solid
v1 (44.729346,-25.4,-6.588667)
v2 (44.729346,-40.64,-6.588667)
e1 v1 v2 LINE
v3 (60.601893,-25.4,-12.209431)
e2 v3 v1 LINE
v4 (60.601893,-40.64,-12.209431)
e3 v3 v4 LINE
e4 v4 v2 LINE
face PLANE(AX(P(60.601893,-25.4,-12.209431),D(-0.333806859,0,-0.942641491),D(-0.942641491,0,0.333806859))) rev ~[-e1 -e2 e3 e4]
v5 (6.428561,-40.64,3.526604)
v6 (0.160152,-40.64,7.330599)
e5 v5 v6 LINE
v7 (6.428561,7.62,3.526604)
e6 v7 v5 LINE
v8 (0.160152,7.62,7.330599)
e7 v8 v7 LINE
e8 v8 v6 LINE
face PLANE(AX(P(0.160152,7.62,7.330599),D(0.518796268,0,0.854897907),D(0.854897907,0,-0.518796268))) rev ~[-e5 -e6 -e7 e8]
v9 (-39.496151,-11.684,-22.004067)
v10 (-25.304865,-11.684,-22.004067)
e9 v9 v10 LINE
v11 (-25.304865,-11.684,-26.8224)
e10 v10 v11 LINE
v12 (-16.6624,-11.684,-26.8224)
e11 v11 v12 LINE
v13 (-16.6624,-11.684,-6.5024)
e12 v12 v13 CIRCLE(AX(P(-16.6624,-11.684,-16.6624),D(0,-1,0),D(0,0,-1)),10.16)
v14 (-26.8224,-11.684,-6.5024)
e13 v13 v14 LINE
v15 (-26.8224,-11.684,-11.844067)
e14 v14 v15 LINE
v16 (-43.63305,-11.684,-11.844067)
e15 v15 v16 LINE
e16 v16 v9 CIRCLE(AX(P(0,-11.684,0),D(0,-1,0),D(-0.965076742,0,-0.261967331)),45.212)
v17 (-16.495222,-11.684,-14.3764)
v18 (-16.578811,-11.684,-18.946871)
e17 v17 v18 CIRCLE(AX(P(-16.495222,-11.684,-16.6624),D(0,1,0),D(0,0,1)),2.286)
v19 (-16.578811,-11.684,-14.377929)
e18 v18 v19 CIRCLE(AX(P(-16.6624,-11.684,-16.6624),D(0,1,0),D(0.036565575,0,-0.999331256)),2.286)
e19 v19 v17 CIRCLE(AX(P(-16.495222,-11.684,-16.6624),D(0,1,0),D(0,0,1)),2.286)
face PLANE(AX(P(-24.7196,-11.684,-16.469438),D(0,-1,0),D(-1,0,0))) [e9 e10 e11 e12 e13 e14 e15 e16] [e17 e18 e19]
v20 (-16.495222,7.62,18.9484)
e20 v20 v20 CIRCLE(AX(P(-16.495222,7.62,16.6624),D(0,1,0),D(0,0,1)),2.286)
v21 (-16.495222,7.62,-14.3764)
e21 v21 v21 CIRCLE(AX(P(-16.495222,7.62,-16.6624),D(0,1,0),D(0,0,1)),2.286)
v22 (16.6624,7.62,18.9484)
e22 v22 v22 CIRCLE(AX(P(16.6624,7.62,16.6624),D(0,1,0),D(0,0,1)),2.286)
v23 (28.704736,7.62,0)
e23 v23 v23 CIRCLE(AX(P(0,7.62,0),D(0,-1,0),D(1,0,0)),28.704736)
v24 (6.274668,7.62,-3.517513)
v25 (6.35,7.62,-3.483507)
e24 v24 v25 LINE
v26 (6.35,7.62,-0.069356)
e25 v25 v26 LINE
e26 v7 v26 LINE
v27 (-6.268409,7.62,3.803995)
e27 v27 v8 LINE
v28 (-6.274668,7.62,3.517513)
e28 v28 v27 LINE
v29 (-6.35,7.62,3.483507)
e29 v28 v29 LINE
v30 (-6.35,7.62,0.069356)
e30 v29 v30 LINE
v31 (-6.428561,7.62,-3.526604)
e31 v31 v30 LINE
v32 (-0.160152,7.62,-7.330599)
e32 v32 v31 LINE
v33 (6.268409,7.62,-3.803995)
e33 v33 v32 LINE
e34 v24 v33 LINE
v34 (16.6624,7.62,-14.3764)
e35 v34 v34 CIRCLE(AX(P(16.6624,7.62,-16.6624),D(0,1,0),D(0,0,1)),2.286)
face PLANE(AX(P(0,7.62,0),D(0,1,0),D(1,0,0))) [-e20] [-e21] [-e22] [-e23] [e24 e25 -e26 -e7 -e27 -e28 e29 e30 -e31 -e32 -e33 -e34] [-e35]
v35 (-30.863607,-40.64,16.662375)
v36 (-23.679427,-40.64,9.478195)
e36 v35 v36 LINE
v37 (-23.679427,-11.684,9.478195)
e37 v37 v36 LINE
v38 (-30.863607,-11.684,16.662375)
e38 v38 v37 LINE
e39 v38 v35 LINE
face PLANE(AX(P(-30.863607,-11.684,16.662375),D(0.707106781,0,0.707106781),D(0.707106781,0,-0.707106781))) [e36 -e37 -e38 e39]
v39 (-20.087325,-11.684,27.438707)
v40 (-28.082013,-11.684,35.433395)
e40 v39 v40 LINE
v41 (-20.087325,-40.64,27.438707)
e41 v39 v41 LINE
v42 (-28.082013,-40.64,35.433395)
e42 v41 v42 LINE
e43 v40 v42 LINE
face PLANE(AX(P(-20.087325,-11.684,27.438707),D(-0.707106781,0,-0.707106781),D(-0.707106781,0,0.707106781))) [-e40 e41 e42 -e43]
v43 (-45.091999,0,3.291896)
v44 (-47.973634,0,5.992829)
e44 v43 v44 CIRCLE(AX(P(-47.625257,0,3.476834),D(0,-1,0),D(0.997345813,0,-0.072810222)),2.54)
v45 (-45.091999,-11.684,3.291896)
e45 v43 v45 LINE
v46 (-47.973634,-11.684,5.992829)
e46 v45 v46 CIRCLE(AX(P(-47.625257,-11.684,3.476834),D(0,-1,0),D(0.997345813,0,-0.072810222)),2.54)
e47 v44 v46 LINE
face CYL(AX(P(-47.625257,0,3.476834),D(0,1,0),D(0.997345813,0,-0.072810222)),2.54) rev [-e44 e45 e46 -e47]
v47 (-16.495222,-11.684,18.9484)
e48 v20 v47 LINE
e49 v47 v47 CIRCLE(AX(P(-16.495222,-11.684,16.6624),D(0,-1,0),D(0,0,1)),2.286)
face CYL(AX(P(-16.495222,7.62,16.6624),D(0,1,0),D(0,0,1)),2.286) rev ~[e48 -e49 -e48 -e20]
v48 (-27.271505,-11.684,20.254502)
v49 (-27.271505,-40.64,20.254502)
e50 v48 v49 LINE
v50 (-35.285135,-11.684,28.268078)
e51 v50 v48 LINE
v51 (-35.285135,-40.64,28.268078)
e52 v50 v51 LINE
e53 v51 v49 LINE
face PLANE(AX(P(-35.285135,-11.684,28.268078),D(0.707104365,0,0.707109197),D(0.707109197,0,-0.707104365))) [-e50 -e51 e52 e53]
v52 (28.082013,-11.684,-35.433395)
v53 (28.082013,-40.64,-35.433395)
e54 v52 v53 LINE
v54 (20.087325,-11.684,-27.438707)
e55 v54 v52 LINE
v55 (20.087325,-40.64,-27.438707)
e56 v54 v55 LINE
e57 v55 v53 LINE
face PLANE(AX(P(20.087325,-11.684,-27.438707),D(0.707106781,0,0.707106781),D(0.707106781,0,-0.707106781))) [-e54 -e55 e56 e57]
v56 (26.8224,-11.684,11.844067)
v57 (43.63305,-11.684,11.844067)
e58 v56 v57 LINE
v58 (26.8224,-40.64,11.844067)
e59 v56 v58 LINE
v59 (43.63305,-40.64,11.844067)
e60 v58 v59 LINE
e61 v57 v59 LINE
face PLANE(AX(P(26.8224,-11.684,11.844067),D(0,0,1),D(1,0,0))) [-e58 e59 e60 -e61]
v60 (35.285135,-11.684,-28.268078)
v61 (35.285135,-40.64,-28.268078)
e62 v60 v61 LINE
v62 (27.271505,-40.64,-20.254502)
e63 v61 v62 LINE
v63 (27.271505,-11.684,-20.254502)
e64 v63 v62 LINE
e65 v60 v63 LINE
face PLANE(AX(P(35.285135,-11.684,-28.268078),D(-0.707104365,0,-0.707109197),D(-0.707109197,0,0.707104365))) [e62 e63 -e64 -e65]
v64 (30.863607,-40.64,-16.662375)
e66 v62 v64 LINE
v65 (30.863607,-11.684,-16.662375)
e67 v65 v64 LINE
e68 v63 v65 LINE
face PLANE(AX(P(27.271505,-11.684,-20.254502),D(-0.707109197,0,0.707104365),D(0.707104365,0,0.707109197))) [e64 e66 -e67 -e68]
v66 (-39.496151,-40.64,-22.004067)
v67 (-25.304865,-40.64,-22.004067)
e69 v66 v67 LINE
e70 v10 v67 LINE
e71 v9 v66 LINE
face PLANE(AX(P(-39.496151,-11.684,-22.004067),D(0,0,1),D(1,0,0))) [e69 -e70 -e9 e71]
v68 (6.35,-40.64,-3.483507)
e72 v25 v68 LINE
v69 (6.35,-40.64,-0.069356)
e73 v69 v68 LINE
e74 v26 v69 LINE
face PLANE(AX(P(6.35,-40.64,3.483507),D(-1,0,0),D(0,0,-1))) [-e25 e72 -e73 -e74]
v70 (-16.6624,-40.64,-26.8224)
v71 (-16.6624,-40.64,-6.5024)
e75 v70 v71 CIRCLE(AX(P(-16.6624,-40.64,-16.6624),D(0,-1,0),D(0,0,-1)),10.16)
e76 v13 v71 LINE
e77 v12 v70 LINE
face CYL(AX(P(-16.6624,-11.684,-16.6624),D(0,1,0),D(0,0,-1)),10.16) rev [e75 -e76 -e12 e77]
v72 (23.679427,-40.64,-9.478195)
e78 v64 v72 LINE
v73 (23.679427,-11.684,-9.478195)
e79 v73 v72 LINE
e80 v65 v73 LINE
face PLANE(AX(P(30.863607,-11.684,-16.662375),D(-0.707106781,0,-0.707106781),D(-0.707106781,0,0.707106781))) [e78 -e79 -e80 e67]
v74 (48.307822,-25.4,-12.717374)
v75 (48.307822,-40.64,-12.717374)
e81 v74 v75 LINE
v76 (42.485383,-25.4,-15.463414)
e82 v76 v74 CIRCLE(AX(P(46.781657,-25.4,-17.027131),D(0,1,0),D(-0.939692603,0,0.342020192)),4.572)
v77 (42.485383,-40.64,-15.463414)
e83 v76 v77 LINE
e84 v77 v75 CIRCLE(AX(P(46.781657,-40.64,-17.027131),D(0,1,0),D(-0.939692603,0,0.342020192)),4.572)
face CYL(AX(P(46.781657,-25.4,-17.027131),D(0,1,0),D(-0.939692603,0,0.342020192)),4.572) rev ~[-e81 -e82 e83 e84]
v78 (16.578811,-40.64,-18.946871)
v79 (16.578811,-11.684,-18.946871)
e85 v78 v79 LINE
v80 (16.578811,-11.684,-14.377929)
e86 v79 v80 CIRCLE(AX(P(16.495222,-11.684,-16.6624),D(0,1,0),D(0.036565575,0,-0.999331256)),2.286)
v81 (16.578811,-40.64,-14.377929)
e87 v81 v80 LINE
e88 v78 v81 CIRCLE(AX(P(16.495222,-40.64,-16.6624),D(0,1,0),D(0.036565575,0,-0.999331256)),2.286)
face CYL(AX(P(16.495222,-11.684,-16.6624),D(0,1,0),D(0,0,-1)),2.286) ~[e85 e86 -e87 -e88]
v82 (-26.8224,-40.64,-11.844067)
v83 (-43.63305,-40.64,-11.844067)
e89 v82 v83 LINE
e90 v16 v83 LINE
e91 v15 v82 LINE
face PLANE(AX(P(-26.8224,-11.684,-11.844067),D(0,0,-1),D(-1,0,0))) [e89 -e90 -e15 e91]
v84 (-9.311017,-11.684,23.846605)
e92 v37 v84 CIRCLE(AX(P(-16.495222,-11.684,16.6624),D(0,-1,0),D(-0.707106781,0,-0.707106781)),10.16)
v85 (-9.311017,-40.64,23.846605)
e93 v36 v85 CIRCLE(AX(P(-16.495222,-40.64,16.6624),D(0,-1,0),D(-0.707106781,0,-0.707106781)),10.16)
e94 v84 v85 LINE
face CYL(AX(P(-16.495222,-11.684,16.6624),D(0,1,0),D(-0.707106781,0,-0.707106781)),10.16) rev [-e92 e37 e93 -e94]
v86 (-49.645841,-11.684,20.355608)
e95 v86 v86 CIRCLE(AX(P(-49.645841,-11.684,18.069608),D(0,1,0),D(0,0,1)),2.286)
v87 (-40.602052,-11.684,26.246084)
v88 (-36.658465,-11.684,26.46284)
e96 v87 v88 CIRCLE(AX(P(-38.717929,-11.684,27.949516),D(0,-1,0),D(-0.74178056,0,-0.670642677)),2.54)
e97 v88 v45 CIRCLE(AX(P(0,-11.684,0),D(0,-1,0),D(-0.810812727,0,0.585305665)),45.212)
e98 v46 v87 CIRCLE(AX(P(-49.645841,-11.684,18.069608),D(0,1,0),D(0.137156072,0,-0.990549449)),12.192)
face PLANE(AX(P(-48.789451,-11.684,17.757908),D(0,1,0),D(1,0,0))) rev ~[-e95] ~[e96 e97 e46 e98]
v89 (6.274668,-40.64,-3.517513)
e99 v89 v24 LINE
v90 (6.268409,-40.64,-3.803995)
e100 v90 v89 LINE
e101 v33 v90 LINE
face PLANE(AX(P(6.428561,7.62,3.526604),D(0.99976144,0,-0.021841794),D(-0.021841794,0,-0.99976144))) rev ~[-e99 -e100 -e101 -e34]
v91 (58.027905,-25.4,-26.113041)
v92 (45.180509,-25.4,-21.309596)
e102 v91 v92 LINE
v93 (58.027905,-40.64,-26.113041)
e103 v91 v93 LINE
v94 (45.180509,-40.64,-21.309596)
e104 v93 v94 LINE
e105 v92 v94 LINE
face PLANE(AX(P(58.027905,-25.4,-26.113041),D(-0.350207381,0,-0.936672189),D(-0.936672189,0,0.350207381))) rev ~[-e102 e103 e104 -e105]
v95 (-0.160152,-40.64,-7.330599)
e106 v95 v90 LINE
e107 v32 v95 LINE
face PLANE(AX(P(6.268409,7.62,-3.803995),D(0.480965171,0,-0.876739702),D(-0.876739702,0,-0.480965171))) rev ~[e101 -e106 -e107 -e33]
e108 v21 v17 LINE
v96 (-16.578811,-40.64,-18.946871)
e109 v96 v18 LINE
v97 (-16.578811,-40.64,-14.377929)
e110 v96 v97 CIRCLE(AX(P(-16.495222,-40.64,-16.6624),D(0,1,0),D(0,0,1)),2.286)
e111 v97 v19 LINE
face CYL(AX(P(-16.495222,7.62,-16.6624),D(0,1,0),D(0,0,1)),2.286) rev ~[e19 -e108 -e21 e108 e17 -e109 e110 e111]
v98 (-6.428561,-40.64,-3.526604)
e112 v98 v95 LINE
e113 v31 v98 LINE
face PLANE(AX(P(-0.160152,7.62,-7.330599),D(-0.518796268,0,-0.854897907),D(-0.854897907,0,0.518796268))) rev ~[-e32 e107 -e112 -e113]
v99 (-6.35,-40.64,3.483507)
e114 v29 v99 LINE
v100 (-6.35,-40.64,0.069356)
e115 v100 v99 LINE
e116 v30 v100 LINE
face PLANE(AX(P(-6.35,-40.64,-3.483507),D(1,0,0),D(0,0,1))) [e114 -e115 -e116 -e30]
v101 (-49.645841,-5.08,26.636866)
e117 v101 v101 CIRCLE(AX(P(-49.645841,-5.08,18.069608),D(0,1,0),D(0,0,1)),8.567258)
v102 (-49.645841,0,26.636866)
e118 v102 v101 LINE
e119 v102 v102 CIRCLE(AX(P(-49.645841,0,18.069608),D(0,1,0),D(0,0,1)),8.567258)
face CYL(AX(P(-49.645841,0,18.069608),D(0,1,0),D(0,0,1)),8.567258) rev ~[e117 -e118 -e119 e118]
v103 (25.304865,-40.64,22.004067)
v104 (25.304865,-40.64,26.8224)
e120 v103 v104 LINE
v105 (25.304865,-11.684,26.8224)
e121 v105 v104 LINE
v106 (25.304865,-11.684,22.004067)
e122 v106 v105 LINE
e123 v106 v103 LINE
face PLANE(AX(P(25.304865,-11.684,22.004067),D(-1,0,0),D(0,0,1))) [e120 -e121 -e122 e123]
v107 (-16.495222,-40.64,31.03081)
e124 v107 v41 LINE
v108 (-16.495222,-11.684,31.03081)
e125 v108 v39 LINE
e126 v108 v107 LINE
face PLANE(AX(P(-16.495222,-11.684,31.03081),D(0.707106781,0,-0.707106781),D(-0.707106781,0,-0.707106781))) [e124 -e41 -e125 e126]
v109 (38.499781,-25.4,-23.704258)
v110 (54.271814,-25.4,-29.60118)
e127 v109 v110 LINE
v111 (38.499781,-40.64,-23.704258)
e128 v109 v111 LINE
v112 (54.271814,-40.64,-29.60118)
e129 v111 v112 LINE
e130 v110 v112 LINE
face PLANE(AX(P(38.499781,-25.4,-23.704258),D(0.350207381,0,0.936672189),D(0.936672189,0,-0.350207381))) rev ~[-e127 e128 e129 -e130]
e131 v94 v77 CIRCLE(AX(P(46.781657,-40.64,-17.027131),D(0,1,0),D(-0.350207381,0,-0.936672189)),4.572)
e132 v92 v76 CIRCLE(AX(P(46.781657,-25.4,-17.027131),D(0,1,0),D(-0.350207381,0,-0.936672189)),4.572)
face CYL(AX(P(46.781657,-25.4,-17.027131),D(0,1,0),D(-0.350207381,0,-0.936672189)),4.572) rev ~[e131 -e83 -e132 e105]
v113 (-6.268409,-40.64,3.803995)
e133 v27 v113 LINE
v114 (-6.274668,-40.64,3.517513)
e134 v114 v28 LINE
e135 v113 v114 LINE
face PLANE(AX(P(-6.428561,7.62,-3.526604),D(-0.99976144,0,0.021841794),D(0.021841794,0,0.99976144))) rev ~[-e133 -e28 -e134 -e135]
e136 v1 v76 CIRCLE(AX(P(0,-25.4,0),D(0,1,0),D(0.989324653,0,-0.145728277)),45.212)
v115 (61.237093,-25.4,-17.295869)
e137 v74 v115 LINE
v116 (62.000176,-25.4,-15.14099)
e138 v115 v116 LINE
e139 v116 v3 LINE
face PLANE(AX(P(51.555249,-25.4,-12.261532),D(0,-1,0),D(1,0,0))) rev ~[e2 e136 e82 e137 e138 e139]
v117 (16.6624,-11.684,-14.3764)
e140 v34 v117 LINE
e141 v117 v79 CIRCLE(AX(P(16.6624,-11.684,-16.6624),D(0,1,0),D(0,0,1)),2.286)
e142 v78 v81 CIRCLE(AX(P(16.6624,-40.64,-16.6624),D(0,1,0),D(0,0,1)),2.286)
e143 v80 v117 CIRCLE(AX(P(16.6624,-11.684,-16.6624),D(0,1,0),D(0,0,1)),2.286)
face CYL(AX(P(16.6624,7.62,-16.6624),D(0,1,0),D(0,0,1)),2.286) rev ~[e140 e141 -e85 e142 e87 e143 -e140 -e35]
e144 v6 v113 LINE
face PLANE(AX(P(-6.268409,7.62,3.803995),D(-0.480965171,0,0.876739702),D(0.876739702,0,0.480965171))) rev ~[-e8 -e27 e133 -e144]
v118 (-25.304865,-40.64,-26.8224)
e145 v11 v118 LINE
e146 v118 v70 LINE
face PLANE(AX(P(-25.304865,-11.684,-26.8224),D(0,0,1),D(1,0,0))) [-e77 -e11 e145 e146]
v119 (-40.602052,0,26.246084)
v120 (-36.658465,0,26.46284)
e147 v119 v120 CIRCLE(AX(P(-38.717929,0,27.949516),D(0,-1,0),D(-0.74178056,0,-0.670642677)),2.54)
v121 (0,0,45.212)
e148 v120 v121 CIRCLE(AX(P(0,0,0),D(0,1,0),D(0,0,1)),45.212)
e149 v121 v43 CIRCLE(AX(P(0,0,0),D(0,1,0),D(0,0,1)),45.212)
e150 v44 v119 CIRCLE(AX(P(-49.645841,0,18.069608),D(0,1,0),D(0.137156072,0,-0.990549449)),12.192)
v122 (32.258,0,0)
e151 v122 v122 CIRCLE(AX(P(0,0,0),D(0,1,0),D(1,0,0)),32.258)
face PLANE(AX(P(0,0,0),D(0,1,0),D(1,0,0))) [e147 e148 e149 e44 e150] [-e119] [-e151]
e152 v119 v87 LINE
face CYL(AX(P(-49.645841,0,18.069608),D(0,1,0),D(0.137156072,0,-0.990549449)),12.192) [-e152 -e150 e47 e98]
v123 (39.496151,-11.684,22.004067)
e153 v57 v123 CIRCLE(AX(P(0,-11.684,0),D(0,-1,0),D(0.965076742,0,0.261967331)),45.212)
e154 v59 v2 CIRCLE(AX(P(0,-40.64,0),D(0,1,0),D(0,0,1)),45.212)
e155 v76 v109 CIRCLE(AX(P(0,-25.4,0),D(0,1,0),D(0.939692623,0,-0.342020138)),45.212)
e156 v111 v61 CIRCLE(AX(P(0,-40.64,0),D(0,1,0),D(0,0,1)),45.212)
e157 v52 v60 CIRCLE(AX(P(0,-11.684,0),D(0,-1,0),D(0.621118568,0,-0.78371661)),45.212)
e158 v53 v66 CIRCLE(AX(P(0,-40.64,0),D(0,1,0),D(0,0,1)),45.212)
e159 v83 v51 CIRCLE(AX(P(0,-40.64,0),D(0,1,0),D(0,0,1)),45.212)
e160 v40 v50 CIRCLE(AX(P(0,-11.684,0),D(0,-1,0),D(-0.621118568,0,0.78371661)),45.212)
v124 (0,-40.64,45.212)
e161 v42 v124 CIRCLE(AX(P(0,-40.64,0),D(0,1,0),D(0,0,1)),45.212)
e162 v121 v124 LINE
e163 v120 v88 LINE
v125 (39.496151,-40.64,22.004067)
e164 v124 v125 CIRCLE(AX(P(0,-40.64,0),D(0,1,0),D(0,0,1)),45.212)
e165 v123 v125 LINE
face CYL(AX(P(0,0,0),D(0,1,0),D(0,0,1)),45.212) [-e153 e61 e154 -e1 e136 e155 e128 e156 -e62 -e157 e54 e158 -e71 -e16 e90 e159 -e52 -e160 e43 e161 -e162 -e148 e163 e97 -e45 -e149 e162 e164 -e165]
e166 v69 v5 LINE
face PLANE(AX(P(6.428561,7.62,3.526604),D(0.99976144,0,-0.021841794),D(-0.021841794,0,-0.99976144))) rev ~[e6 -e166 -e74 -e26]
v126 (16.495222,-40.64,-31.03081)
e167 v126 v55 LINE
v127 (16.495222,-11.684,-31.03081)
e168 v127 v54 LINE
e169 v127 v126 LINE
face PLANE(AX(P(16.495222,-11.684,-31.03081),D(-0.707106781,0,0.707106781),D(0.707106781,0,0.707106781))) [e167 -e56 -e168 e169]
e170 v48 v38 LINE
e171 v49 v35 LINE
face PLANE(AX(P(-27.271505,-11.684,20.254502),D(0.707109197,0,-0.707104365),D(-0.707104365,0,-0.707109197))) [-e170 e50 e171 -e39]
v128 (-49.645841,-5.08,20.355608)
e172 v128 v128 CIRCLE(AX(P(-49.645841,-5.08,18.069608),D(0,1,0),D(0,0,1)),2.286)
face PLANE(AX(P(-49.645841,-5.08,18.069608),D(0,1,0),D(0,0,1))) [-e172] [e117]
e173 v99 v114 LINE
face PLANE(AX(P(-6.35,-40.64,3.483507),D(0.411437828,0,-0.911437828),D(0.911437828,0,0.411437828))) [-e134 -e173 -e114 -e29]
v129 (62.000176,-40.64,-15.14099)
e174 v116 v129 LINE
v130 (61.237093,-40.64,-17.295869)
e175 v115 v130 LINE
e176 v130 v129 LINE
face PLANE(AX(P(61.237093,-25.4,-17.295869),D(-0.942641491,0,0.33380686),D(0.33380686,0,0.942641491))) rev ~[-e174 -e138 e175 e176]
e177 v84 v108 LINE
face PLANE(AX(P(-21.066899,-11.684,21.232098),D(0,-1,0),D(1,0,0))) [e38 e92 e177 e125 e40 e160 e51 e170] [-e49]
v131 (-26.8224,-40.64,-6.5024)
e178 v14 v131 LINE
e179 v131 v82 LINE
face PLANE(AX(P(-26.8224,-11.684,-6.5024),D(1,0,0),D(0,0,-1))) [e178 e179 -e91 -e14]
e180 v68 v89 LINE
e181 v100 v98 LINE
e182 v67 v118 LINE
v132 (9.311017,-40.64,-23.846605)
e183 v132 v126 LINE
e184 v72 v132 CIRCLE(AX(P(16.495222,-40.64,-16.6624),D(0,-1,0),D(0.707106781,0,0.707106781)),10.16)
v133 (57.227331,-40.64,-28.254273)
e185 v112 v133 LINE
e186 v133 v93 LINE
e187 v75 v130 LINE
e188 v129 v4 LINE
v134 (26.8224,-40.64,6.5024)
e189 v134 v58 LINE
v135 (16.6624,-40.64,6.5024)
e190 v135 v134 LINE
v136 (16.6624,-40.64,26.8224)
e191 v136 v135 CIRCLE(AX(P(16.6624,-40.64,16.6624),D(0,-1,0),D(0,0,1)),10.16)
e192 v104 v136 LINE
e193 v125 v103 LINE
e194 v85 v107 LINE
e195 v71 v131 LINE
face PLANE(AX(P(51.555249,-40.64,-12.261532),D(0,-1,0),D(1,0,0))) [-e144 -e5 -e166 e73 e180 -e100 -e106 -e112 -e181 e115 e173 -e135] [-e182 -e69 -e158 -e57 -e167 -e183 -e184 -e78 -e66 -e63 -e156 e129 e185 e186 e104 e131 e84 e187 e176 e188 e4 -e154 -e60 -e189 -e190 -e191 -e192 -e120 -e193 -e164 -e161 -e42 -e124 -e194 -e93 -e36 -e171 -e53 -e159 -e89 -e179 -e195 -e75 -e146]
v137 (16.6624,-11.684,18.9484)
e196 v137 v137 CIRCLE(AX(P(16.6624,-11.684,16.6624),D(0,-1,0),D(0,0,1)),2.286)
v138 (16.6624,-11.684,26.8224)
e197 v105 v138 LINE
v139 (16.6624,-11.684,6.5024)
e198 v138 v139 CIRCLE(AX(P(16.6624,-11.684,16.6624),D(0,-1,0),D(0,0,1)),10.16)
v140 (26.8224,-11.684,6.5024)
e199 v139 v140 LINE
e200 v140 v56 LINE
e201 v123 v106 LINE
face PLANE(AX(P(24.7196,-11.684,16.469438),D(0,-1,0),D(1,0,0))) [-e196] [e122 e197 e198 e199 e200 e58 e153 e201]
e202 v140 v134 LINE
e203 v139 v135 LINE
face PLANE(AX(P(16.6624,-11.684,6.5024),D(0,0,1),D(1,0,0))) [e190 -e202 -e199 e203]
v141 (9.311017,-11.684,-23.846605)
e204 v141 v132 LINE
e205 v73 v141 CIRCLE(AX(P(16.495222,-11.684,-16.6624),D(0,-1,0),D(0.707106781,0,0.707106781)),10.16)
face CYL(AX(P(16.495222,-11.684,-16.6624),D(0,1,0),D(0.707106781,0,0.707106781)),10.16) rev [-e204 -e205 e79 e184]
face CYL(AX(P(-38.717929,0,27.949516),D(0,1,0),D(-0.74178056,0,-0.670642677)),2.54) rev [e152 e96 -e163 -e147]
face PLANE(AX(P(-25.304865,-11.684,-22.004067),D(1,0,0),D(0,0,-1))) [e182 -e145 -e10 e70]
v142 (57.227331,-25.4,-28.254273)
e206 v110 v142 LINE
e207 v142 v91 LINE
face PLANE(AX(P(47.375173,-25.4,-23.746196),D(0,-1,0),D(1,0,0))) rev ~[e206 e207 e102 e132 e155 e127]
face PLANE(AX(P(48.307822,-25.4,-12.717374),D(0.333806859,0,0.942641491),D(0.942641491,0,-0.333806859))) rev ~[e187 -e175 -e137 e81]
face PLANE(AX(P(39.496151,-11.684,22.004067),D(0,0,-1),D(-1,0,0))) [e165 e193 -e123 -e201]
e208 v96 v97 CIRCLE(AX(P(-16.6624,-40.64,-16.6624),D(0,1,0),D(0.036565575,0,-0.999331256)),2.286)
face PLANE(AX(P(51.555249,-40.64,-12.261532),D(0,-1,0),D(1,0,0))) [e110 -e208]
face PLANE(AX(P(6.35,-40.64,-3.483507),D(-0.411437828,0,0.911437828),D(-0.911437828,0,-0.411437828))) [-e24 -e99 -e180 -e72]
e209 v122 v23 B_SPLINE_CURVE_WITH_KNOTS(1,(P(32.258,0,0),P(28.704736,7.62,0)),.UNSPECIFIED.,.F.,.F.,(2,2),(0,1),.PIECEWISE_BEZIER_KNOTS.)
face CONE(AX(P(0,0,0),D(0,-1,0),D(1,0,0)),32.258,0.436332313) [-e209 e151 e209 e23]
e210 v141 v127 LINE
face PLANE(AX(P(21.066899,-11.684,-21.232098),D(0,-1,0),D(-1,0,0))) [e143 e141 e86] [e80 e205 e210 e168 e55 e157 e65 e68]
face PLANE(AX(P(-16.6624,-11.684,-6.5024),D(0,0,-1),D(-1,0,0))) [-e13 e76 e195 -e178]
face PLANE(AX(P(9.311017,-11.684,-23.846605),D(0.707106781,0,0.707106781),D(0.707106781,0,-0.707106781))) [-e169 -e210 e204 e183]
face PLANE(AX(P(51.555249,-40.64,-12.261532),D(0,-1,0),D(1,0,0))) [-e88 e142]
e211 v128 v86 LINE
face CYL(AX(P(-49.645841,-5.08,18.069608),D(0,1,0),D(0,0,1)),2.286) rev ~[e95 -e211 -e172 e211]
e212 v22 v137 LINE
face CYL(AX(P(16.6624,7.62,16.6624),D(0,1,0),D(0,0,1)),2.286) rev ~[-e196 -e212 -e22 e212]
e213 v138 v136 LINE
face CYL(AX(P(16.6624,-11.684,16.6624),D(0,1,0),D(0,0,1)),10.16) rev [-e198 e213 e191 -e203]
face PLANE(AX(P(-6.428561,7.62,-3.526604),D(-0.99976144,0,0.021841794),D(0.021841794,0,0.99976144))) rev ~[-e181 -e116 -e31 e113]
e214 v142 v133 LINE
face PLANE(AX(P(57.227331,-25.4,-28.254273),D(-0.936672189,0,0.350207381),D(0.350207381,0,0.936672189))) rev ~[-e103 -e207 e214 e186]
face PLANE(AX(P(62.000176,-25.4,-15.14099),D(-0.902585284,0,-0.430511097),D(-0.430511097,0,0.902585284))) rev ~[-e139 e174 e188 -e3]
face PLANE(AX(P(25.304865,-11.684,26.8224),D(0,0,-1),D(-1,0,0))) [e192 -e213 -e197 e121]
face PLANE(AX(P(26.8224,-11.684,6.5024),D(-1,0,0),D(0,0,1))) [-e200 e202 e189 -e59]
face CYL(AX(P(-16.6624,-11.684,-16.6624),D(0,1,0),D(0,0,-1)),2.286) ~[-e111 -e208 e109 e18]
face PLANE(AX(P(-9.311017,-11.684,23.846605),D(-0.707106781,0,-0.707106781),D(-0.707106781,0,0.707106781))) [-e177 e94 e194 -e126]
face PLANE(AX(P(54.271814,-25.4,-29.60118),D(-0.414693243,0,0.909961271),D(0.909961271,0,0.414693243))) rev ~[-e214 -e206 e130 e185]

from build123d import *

# Parameters (mm, degrees)
SKETCH2_R           = 45.212
SKETCH2_R_2         = 32.258
BOSS_EXTRUDE3_DEPTH = 40.64
SKETCH4_R           = 32.258
BOSS_EXTRUDE4_DEPTH = 7.62
BOSS_EXTRUDE4_TAPER = 25
CUT_EXTRUDE1_DEPTH  = 81.10791158
SKETCH7_R           = 2.286
CUT_EXTRUDE2_DEPTH  = 81.107911519
BOSS_EXTRUDE8_START = -7.62
BOSS_EXTRUDE8_DEPTH = 11.684
SKETCH18_R          = 8.567257543
CUT_EXTRUDE3_DEPTH  = 5.08
SKETCH19_R          = 2.286
CUT_EXTRUDE4_DEPTH  = 85.454467418
BOSS_EXTRUDE9_START = -15.24
BOSS_EXTRUDE9_DEPTH = 15.24
CUT_EXTRUDE5_START  = -28.956
SKETCH21_R          = 2.286
CUT_EXTRUDE5_DEPTH  = 28.956
CIRPATTERN1_COUNT   = 2
CUT_EXTRUDE6_DEPTH  = 91.648631066


with BuildPart() as part:
    # Sketch2 → Boss-Extrude3 (new body)
    # profile 1 of 2: a face of its own
    with BuildSketch(Plane(origin=(0, 0, 0), x_dir=(1, 0, 0), z_dir=(0, 1, 0))):
        with Locations(Location((0, 0, 0), (0, 0, 270))):
            Circle(SKETCH2_R)
        Circle(SKETCH2_R_2, mode=Mode.SUBTRACT)
    # profile 2 of 2: a face of its own
    with BuildSketch(Plane(origin=(0, 0, 0), x_dir=(1, 0, 0), z_dir=(0, 1, 0))):
        Circle(SKETCH2_R_2)
        Polygon((0, 6.35), (-6.35, 3.483506942), (-6.35, -3.483506942), (0, -6.35), (6.35, -3.483506942), (6.35, 3.483506942), align=None, mode=Mode.SUBTRACT)
    extrude(amount=-BOSS_EXTRUDE3_DEPTH)

    # Sketch4 → Boss-Extrude4 (add)
    with BuildSketch(Plane(origin=(0, 0, 0), x_dir=(1, 0, 0), z_dir=(0, 1, 0))):
        Circle(SKETCH4_R)
    extrude(amount=BOSS_EXTRUDE4_DEPTH, taper=BOSS_EXTRUDE4_TAPER)

    # Sketch6 → Cut-Extrude1 (cut, through all)
    with BuildSketch(Plane(origin=(0, -40.64, 0), x_dir=(-1, 0, 0), z_dir=(0, -1, 0))):
        Polygon((6.35, -3.483506942), (0, -6.35), (-6.35, -3.483506942), (-6.35, 3.483506942), (0, 6.35), (6.35, 3.483506942), align=None)
    extrude(amount=-CUT_EXTRUDE1_DEPTH, mode=Mode.SUBTRACT)

    # Sketch7 → Cut-Extrude2 (cut, through all)
    with BuildSketch(Plane(origin=(0, 7.62, 0), x_dir=(1, 0, 0), z_dir=(0, 1, 0))):
        with Locations(Location((-16.495222192, 16.6624, 0), (0, 0, 270))):
            Circle(SKETCH7_R)
        with Locations(Location((16.6624, 16.6624, 0), (0, 0, 270))):
            Circle(SKETCH7_R)
        with Locations(Location((16.6624, -16.6624, 0), (0, 0, 270))):
            Circle(SKETCH7_R)
        with Locations(Location((-16.495222192, -16.6624, 0), (0, 0, 270))):
            Circle(SKETCH7_R)
    extrude(amount=-CUT_EXTRUDE2_DEPTH, mode=Mode.SUBTRACT)

    # Sketch12 → Boss-Extrude8 (add)
    with BuildSketch(Plane(origin=(0, 7.62, 0), x_dir=(1, 0, 0), z_dir=(0, 1, 0)).offset(BOSS_EXTRUDE8_START)):
        with BuildLine():
            ThreePointArc((-45.091998917, -3.291895759), (-45.888251869, -5.330050438), (-47.973633707, -5.992829324))
            ThreePointArc((-47.973633707, -5.992829324), (-61.102572974, -22.2395178), (-40.602051954, -26.246083736))
            ThreePointArc((-40.602051954, -26.246083736), (-38.578530729, -25.413344212), (-36.658465006, -26.462839746))
            ThreePointArc((-36.658465006, -26.462839746), (-42.485382771, -15.46341472), (-45.091998917, -3.291895759))
        make_face()
    extrude(amount=-BOSS_EXTRUDE8_DEPTH)

    # Sketch18 → Cut-Extrude3 (cut)
    with BuildSketch(Plane(origin=(0, 0, 0), x_dir=(1, 0, 0), z_dir=(0, 1, 0))):
        with Locations(Location((-49.645840541, -18.069608212, 0), (0, 0, 270))):
            Circle(SKETCH18_R)
    extrude(amount=-CUT_EXTRUDE3_DEPTH, mode=Mode.SUBTRACT)

    # Sketch19 → Cut-Extrude4 (cut, through all)
    with BuildSketch(Plane(origin=(0, -5.08, 0), x_dir=(1, 0, 0), z_dir=(0, 1, 0))):
        with Locations(Location((-49.645840541, -18.069608212, 0), (0, 0, 270))):
            Circle(SKETCH19_R)
    extrude(amount=-CUT_EXTRUDE4_DEPTH, mode=Mode.SUBTRACT)

    # Sketch20 → Boss-Extrude9 (add)
    with BuildSketch(Plane.XZ.offset(40.64).offset(BOSS_EXTRUDE9_START)):
        with BuildLine():
            ThreePointArc((42.485382852, -15.463414497), (44.831385262, -12.89196184), (48.307822394, -12.717373918))
            Line((48.307822394, -12.717373918), (61.237093085, -17.295868799))
            Line((61.237093085, -17.295868799), (62.000175566, -15.140990351))
            Line((62.000175566, -15.140990351), (60.601893265, -12.209430544))
            Line((60.601893265, -12.209430544), (44.72934622, -6.588666841))
            ThreePointArc((44.72934622, -6.588666841), (43.832551012, -11.082978649), (42.485382852, -15.463414497))
        make_face()
        with BuildLine():
            ThreePointArc((45.180509286, -21.309596065), (42.629626793, -18.941243028), (42.485382852, -15.463414497))
            ThreePointArc((42.485382852, -15.463414497), (40.701683588, -19.684966271), (38.499780526, -23.704257918))
            Line((38.499780526, -23.704257918), (54.271814253, -29.601179693))
            Line((54.271814253, -29.601179693), (57.22733096, -28.254273131))
            Line((57.22733096, -28.254273131), (58.027905034, -26.113040506))
            Line((58.027905034, -26.113040506), (45.180509286, -21.309596065))
        make_face()
    extrude(amount=BOSS_EXTRUDE9_DEPTH)

    # Sketch21 → Cut-Extrude5 (cut)
    # profile 1 of 2: a face of its own
    with BuildSketch(Plane.XZ.offset(40.64).offset(CUT_EXTRUDE5_START)):
        with BuildLine():
            Line((-20.08732464, 27.438707345), (-28.082012675, 35.43339538))
            ThreePointArc((-28.082012675, 35.43339538), (-31.885487137, 32.053715136), (-35.285134805, 28.268077504))
            Line((-35.285134805, 28.268077504), (-27.271504992, 20.254502449))
            Line((-27.271504992, 20.254502449), (-30.86360744, 16.662375455))
            Line((-30.86360744, 16.662375455), (-23.679427089, 9.478195103))
            ThreePointArc((-23.679427089, 9.478195103), (-9.311017295, 9.478195103), (-9.311017295, 23.846604897))
            Line((-9.311017295, 23.846604897), (-16.495222192, 31.030809794))
            Line((-16.495222192, 31.030809794), (-20.08732464, 27.438707345))
        make_face()
        with Locations(Location((-16.495222192, 16.6624, 0), (0, 0, 90))):
            Circle(SKETCH21_R, mode=Mode.SUBTRACT)
    # profile 2 of 2: a face of its own
    with BuildSketch(Plane.XZ.offset(40.64).offset(CUT_EXTRUDE5_START)):
        with BuildLine():
            ThreePointArc((16.6624, 26.8224), (6.5024, 16.6624), (16.6624, 6.5024))
            Line((16.6624, 6.5024), (26.8224, 6.5024))
            Line((26.8224, 6.5024), (26.8224, 11.844066963))
            Line((26.8224, 11.844066963), (43.63304965, 11.844066963))
            ThreePointArc((43.63304965, 11.844066963), (41.873887087, 17.050000709), (39.496151472, 22.004066963))
            Line((39.496151472, 22.004066963), (25.304864582, 22.004066963))
            Line((25.304864582, 22.004066963), (25.304864582, 26.8224))
            Line((25.304864582, 26.8224), (16.6624, 26.8224))
        make_face()
        with Locations(Location((16.6624, 16.6624, 0), (0, 0, 90))):
            Circle(SKETCH21_R, mode=Mode.SUBTRACT)
    cut_extrude5 = extrude(amount=CUT_EXTRUDE5_DEPTH, mode=Mode.SUBTRACT)

    # CirPattern1: Cut-Extrude5 ×2 about axis
    cirpattern1_axis = Axis((0, 0, 0), (0, 1, 0))
    for i in range(1, CIRPATTERN1_COUNT):
        add(cut_extrude5.rotate(cirpattern1_axis, i * 360 / CIRPATTERN1_COUNT), mode=Mode.SUBTRACT)

    # Sketch22 → Cut-Extrude6 (cut, through all)
    with BuildSketch(Plane(origin=(0, 7.62, 0), x_dir=(1, 0, 0), z_dir=(0, 1, 0))):
        Polygon((6.428560964, -3.526604212), (6.268409318, 3.803994999), (-0.160151646, 7.33059921), (-6.428560964, 3.526604212), (-6.268409318, -3.803994999), (0.160151646, -7.33059921), align=None)
    extrude(amount=-CUT_EXTRUDE6_DEPTH, mode=Mode.SUBTRACT)


solid = part.part
